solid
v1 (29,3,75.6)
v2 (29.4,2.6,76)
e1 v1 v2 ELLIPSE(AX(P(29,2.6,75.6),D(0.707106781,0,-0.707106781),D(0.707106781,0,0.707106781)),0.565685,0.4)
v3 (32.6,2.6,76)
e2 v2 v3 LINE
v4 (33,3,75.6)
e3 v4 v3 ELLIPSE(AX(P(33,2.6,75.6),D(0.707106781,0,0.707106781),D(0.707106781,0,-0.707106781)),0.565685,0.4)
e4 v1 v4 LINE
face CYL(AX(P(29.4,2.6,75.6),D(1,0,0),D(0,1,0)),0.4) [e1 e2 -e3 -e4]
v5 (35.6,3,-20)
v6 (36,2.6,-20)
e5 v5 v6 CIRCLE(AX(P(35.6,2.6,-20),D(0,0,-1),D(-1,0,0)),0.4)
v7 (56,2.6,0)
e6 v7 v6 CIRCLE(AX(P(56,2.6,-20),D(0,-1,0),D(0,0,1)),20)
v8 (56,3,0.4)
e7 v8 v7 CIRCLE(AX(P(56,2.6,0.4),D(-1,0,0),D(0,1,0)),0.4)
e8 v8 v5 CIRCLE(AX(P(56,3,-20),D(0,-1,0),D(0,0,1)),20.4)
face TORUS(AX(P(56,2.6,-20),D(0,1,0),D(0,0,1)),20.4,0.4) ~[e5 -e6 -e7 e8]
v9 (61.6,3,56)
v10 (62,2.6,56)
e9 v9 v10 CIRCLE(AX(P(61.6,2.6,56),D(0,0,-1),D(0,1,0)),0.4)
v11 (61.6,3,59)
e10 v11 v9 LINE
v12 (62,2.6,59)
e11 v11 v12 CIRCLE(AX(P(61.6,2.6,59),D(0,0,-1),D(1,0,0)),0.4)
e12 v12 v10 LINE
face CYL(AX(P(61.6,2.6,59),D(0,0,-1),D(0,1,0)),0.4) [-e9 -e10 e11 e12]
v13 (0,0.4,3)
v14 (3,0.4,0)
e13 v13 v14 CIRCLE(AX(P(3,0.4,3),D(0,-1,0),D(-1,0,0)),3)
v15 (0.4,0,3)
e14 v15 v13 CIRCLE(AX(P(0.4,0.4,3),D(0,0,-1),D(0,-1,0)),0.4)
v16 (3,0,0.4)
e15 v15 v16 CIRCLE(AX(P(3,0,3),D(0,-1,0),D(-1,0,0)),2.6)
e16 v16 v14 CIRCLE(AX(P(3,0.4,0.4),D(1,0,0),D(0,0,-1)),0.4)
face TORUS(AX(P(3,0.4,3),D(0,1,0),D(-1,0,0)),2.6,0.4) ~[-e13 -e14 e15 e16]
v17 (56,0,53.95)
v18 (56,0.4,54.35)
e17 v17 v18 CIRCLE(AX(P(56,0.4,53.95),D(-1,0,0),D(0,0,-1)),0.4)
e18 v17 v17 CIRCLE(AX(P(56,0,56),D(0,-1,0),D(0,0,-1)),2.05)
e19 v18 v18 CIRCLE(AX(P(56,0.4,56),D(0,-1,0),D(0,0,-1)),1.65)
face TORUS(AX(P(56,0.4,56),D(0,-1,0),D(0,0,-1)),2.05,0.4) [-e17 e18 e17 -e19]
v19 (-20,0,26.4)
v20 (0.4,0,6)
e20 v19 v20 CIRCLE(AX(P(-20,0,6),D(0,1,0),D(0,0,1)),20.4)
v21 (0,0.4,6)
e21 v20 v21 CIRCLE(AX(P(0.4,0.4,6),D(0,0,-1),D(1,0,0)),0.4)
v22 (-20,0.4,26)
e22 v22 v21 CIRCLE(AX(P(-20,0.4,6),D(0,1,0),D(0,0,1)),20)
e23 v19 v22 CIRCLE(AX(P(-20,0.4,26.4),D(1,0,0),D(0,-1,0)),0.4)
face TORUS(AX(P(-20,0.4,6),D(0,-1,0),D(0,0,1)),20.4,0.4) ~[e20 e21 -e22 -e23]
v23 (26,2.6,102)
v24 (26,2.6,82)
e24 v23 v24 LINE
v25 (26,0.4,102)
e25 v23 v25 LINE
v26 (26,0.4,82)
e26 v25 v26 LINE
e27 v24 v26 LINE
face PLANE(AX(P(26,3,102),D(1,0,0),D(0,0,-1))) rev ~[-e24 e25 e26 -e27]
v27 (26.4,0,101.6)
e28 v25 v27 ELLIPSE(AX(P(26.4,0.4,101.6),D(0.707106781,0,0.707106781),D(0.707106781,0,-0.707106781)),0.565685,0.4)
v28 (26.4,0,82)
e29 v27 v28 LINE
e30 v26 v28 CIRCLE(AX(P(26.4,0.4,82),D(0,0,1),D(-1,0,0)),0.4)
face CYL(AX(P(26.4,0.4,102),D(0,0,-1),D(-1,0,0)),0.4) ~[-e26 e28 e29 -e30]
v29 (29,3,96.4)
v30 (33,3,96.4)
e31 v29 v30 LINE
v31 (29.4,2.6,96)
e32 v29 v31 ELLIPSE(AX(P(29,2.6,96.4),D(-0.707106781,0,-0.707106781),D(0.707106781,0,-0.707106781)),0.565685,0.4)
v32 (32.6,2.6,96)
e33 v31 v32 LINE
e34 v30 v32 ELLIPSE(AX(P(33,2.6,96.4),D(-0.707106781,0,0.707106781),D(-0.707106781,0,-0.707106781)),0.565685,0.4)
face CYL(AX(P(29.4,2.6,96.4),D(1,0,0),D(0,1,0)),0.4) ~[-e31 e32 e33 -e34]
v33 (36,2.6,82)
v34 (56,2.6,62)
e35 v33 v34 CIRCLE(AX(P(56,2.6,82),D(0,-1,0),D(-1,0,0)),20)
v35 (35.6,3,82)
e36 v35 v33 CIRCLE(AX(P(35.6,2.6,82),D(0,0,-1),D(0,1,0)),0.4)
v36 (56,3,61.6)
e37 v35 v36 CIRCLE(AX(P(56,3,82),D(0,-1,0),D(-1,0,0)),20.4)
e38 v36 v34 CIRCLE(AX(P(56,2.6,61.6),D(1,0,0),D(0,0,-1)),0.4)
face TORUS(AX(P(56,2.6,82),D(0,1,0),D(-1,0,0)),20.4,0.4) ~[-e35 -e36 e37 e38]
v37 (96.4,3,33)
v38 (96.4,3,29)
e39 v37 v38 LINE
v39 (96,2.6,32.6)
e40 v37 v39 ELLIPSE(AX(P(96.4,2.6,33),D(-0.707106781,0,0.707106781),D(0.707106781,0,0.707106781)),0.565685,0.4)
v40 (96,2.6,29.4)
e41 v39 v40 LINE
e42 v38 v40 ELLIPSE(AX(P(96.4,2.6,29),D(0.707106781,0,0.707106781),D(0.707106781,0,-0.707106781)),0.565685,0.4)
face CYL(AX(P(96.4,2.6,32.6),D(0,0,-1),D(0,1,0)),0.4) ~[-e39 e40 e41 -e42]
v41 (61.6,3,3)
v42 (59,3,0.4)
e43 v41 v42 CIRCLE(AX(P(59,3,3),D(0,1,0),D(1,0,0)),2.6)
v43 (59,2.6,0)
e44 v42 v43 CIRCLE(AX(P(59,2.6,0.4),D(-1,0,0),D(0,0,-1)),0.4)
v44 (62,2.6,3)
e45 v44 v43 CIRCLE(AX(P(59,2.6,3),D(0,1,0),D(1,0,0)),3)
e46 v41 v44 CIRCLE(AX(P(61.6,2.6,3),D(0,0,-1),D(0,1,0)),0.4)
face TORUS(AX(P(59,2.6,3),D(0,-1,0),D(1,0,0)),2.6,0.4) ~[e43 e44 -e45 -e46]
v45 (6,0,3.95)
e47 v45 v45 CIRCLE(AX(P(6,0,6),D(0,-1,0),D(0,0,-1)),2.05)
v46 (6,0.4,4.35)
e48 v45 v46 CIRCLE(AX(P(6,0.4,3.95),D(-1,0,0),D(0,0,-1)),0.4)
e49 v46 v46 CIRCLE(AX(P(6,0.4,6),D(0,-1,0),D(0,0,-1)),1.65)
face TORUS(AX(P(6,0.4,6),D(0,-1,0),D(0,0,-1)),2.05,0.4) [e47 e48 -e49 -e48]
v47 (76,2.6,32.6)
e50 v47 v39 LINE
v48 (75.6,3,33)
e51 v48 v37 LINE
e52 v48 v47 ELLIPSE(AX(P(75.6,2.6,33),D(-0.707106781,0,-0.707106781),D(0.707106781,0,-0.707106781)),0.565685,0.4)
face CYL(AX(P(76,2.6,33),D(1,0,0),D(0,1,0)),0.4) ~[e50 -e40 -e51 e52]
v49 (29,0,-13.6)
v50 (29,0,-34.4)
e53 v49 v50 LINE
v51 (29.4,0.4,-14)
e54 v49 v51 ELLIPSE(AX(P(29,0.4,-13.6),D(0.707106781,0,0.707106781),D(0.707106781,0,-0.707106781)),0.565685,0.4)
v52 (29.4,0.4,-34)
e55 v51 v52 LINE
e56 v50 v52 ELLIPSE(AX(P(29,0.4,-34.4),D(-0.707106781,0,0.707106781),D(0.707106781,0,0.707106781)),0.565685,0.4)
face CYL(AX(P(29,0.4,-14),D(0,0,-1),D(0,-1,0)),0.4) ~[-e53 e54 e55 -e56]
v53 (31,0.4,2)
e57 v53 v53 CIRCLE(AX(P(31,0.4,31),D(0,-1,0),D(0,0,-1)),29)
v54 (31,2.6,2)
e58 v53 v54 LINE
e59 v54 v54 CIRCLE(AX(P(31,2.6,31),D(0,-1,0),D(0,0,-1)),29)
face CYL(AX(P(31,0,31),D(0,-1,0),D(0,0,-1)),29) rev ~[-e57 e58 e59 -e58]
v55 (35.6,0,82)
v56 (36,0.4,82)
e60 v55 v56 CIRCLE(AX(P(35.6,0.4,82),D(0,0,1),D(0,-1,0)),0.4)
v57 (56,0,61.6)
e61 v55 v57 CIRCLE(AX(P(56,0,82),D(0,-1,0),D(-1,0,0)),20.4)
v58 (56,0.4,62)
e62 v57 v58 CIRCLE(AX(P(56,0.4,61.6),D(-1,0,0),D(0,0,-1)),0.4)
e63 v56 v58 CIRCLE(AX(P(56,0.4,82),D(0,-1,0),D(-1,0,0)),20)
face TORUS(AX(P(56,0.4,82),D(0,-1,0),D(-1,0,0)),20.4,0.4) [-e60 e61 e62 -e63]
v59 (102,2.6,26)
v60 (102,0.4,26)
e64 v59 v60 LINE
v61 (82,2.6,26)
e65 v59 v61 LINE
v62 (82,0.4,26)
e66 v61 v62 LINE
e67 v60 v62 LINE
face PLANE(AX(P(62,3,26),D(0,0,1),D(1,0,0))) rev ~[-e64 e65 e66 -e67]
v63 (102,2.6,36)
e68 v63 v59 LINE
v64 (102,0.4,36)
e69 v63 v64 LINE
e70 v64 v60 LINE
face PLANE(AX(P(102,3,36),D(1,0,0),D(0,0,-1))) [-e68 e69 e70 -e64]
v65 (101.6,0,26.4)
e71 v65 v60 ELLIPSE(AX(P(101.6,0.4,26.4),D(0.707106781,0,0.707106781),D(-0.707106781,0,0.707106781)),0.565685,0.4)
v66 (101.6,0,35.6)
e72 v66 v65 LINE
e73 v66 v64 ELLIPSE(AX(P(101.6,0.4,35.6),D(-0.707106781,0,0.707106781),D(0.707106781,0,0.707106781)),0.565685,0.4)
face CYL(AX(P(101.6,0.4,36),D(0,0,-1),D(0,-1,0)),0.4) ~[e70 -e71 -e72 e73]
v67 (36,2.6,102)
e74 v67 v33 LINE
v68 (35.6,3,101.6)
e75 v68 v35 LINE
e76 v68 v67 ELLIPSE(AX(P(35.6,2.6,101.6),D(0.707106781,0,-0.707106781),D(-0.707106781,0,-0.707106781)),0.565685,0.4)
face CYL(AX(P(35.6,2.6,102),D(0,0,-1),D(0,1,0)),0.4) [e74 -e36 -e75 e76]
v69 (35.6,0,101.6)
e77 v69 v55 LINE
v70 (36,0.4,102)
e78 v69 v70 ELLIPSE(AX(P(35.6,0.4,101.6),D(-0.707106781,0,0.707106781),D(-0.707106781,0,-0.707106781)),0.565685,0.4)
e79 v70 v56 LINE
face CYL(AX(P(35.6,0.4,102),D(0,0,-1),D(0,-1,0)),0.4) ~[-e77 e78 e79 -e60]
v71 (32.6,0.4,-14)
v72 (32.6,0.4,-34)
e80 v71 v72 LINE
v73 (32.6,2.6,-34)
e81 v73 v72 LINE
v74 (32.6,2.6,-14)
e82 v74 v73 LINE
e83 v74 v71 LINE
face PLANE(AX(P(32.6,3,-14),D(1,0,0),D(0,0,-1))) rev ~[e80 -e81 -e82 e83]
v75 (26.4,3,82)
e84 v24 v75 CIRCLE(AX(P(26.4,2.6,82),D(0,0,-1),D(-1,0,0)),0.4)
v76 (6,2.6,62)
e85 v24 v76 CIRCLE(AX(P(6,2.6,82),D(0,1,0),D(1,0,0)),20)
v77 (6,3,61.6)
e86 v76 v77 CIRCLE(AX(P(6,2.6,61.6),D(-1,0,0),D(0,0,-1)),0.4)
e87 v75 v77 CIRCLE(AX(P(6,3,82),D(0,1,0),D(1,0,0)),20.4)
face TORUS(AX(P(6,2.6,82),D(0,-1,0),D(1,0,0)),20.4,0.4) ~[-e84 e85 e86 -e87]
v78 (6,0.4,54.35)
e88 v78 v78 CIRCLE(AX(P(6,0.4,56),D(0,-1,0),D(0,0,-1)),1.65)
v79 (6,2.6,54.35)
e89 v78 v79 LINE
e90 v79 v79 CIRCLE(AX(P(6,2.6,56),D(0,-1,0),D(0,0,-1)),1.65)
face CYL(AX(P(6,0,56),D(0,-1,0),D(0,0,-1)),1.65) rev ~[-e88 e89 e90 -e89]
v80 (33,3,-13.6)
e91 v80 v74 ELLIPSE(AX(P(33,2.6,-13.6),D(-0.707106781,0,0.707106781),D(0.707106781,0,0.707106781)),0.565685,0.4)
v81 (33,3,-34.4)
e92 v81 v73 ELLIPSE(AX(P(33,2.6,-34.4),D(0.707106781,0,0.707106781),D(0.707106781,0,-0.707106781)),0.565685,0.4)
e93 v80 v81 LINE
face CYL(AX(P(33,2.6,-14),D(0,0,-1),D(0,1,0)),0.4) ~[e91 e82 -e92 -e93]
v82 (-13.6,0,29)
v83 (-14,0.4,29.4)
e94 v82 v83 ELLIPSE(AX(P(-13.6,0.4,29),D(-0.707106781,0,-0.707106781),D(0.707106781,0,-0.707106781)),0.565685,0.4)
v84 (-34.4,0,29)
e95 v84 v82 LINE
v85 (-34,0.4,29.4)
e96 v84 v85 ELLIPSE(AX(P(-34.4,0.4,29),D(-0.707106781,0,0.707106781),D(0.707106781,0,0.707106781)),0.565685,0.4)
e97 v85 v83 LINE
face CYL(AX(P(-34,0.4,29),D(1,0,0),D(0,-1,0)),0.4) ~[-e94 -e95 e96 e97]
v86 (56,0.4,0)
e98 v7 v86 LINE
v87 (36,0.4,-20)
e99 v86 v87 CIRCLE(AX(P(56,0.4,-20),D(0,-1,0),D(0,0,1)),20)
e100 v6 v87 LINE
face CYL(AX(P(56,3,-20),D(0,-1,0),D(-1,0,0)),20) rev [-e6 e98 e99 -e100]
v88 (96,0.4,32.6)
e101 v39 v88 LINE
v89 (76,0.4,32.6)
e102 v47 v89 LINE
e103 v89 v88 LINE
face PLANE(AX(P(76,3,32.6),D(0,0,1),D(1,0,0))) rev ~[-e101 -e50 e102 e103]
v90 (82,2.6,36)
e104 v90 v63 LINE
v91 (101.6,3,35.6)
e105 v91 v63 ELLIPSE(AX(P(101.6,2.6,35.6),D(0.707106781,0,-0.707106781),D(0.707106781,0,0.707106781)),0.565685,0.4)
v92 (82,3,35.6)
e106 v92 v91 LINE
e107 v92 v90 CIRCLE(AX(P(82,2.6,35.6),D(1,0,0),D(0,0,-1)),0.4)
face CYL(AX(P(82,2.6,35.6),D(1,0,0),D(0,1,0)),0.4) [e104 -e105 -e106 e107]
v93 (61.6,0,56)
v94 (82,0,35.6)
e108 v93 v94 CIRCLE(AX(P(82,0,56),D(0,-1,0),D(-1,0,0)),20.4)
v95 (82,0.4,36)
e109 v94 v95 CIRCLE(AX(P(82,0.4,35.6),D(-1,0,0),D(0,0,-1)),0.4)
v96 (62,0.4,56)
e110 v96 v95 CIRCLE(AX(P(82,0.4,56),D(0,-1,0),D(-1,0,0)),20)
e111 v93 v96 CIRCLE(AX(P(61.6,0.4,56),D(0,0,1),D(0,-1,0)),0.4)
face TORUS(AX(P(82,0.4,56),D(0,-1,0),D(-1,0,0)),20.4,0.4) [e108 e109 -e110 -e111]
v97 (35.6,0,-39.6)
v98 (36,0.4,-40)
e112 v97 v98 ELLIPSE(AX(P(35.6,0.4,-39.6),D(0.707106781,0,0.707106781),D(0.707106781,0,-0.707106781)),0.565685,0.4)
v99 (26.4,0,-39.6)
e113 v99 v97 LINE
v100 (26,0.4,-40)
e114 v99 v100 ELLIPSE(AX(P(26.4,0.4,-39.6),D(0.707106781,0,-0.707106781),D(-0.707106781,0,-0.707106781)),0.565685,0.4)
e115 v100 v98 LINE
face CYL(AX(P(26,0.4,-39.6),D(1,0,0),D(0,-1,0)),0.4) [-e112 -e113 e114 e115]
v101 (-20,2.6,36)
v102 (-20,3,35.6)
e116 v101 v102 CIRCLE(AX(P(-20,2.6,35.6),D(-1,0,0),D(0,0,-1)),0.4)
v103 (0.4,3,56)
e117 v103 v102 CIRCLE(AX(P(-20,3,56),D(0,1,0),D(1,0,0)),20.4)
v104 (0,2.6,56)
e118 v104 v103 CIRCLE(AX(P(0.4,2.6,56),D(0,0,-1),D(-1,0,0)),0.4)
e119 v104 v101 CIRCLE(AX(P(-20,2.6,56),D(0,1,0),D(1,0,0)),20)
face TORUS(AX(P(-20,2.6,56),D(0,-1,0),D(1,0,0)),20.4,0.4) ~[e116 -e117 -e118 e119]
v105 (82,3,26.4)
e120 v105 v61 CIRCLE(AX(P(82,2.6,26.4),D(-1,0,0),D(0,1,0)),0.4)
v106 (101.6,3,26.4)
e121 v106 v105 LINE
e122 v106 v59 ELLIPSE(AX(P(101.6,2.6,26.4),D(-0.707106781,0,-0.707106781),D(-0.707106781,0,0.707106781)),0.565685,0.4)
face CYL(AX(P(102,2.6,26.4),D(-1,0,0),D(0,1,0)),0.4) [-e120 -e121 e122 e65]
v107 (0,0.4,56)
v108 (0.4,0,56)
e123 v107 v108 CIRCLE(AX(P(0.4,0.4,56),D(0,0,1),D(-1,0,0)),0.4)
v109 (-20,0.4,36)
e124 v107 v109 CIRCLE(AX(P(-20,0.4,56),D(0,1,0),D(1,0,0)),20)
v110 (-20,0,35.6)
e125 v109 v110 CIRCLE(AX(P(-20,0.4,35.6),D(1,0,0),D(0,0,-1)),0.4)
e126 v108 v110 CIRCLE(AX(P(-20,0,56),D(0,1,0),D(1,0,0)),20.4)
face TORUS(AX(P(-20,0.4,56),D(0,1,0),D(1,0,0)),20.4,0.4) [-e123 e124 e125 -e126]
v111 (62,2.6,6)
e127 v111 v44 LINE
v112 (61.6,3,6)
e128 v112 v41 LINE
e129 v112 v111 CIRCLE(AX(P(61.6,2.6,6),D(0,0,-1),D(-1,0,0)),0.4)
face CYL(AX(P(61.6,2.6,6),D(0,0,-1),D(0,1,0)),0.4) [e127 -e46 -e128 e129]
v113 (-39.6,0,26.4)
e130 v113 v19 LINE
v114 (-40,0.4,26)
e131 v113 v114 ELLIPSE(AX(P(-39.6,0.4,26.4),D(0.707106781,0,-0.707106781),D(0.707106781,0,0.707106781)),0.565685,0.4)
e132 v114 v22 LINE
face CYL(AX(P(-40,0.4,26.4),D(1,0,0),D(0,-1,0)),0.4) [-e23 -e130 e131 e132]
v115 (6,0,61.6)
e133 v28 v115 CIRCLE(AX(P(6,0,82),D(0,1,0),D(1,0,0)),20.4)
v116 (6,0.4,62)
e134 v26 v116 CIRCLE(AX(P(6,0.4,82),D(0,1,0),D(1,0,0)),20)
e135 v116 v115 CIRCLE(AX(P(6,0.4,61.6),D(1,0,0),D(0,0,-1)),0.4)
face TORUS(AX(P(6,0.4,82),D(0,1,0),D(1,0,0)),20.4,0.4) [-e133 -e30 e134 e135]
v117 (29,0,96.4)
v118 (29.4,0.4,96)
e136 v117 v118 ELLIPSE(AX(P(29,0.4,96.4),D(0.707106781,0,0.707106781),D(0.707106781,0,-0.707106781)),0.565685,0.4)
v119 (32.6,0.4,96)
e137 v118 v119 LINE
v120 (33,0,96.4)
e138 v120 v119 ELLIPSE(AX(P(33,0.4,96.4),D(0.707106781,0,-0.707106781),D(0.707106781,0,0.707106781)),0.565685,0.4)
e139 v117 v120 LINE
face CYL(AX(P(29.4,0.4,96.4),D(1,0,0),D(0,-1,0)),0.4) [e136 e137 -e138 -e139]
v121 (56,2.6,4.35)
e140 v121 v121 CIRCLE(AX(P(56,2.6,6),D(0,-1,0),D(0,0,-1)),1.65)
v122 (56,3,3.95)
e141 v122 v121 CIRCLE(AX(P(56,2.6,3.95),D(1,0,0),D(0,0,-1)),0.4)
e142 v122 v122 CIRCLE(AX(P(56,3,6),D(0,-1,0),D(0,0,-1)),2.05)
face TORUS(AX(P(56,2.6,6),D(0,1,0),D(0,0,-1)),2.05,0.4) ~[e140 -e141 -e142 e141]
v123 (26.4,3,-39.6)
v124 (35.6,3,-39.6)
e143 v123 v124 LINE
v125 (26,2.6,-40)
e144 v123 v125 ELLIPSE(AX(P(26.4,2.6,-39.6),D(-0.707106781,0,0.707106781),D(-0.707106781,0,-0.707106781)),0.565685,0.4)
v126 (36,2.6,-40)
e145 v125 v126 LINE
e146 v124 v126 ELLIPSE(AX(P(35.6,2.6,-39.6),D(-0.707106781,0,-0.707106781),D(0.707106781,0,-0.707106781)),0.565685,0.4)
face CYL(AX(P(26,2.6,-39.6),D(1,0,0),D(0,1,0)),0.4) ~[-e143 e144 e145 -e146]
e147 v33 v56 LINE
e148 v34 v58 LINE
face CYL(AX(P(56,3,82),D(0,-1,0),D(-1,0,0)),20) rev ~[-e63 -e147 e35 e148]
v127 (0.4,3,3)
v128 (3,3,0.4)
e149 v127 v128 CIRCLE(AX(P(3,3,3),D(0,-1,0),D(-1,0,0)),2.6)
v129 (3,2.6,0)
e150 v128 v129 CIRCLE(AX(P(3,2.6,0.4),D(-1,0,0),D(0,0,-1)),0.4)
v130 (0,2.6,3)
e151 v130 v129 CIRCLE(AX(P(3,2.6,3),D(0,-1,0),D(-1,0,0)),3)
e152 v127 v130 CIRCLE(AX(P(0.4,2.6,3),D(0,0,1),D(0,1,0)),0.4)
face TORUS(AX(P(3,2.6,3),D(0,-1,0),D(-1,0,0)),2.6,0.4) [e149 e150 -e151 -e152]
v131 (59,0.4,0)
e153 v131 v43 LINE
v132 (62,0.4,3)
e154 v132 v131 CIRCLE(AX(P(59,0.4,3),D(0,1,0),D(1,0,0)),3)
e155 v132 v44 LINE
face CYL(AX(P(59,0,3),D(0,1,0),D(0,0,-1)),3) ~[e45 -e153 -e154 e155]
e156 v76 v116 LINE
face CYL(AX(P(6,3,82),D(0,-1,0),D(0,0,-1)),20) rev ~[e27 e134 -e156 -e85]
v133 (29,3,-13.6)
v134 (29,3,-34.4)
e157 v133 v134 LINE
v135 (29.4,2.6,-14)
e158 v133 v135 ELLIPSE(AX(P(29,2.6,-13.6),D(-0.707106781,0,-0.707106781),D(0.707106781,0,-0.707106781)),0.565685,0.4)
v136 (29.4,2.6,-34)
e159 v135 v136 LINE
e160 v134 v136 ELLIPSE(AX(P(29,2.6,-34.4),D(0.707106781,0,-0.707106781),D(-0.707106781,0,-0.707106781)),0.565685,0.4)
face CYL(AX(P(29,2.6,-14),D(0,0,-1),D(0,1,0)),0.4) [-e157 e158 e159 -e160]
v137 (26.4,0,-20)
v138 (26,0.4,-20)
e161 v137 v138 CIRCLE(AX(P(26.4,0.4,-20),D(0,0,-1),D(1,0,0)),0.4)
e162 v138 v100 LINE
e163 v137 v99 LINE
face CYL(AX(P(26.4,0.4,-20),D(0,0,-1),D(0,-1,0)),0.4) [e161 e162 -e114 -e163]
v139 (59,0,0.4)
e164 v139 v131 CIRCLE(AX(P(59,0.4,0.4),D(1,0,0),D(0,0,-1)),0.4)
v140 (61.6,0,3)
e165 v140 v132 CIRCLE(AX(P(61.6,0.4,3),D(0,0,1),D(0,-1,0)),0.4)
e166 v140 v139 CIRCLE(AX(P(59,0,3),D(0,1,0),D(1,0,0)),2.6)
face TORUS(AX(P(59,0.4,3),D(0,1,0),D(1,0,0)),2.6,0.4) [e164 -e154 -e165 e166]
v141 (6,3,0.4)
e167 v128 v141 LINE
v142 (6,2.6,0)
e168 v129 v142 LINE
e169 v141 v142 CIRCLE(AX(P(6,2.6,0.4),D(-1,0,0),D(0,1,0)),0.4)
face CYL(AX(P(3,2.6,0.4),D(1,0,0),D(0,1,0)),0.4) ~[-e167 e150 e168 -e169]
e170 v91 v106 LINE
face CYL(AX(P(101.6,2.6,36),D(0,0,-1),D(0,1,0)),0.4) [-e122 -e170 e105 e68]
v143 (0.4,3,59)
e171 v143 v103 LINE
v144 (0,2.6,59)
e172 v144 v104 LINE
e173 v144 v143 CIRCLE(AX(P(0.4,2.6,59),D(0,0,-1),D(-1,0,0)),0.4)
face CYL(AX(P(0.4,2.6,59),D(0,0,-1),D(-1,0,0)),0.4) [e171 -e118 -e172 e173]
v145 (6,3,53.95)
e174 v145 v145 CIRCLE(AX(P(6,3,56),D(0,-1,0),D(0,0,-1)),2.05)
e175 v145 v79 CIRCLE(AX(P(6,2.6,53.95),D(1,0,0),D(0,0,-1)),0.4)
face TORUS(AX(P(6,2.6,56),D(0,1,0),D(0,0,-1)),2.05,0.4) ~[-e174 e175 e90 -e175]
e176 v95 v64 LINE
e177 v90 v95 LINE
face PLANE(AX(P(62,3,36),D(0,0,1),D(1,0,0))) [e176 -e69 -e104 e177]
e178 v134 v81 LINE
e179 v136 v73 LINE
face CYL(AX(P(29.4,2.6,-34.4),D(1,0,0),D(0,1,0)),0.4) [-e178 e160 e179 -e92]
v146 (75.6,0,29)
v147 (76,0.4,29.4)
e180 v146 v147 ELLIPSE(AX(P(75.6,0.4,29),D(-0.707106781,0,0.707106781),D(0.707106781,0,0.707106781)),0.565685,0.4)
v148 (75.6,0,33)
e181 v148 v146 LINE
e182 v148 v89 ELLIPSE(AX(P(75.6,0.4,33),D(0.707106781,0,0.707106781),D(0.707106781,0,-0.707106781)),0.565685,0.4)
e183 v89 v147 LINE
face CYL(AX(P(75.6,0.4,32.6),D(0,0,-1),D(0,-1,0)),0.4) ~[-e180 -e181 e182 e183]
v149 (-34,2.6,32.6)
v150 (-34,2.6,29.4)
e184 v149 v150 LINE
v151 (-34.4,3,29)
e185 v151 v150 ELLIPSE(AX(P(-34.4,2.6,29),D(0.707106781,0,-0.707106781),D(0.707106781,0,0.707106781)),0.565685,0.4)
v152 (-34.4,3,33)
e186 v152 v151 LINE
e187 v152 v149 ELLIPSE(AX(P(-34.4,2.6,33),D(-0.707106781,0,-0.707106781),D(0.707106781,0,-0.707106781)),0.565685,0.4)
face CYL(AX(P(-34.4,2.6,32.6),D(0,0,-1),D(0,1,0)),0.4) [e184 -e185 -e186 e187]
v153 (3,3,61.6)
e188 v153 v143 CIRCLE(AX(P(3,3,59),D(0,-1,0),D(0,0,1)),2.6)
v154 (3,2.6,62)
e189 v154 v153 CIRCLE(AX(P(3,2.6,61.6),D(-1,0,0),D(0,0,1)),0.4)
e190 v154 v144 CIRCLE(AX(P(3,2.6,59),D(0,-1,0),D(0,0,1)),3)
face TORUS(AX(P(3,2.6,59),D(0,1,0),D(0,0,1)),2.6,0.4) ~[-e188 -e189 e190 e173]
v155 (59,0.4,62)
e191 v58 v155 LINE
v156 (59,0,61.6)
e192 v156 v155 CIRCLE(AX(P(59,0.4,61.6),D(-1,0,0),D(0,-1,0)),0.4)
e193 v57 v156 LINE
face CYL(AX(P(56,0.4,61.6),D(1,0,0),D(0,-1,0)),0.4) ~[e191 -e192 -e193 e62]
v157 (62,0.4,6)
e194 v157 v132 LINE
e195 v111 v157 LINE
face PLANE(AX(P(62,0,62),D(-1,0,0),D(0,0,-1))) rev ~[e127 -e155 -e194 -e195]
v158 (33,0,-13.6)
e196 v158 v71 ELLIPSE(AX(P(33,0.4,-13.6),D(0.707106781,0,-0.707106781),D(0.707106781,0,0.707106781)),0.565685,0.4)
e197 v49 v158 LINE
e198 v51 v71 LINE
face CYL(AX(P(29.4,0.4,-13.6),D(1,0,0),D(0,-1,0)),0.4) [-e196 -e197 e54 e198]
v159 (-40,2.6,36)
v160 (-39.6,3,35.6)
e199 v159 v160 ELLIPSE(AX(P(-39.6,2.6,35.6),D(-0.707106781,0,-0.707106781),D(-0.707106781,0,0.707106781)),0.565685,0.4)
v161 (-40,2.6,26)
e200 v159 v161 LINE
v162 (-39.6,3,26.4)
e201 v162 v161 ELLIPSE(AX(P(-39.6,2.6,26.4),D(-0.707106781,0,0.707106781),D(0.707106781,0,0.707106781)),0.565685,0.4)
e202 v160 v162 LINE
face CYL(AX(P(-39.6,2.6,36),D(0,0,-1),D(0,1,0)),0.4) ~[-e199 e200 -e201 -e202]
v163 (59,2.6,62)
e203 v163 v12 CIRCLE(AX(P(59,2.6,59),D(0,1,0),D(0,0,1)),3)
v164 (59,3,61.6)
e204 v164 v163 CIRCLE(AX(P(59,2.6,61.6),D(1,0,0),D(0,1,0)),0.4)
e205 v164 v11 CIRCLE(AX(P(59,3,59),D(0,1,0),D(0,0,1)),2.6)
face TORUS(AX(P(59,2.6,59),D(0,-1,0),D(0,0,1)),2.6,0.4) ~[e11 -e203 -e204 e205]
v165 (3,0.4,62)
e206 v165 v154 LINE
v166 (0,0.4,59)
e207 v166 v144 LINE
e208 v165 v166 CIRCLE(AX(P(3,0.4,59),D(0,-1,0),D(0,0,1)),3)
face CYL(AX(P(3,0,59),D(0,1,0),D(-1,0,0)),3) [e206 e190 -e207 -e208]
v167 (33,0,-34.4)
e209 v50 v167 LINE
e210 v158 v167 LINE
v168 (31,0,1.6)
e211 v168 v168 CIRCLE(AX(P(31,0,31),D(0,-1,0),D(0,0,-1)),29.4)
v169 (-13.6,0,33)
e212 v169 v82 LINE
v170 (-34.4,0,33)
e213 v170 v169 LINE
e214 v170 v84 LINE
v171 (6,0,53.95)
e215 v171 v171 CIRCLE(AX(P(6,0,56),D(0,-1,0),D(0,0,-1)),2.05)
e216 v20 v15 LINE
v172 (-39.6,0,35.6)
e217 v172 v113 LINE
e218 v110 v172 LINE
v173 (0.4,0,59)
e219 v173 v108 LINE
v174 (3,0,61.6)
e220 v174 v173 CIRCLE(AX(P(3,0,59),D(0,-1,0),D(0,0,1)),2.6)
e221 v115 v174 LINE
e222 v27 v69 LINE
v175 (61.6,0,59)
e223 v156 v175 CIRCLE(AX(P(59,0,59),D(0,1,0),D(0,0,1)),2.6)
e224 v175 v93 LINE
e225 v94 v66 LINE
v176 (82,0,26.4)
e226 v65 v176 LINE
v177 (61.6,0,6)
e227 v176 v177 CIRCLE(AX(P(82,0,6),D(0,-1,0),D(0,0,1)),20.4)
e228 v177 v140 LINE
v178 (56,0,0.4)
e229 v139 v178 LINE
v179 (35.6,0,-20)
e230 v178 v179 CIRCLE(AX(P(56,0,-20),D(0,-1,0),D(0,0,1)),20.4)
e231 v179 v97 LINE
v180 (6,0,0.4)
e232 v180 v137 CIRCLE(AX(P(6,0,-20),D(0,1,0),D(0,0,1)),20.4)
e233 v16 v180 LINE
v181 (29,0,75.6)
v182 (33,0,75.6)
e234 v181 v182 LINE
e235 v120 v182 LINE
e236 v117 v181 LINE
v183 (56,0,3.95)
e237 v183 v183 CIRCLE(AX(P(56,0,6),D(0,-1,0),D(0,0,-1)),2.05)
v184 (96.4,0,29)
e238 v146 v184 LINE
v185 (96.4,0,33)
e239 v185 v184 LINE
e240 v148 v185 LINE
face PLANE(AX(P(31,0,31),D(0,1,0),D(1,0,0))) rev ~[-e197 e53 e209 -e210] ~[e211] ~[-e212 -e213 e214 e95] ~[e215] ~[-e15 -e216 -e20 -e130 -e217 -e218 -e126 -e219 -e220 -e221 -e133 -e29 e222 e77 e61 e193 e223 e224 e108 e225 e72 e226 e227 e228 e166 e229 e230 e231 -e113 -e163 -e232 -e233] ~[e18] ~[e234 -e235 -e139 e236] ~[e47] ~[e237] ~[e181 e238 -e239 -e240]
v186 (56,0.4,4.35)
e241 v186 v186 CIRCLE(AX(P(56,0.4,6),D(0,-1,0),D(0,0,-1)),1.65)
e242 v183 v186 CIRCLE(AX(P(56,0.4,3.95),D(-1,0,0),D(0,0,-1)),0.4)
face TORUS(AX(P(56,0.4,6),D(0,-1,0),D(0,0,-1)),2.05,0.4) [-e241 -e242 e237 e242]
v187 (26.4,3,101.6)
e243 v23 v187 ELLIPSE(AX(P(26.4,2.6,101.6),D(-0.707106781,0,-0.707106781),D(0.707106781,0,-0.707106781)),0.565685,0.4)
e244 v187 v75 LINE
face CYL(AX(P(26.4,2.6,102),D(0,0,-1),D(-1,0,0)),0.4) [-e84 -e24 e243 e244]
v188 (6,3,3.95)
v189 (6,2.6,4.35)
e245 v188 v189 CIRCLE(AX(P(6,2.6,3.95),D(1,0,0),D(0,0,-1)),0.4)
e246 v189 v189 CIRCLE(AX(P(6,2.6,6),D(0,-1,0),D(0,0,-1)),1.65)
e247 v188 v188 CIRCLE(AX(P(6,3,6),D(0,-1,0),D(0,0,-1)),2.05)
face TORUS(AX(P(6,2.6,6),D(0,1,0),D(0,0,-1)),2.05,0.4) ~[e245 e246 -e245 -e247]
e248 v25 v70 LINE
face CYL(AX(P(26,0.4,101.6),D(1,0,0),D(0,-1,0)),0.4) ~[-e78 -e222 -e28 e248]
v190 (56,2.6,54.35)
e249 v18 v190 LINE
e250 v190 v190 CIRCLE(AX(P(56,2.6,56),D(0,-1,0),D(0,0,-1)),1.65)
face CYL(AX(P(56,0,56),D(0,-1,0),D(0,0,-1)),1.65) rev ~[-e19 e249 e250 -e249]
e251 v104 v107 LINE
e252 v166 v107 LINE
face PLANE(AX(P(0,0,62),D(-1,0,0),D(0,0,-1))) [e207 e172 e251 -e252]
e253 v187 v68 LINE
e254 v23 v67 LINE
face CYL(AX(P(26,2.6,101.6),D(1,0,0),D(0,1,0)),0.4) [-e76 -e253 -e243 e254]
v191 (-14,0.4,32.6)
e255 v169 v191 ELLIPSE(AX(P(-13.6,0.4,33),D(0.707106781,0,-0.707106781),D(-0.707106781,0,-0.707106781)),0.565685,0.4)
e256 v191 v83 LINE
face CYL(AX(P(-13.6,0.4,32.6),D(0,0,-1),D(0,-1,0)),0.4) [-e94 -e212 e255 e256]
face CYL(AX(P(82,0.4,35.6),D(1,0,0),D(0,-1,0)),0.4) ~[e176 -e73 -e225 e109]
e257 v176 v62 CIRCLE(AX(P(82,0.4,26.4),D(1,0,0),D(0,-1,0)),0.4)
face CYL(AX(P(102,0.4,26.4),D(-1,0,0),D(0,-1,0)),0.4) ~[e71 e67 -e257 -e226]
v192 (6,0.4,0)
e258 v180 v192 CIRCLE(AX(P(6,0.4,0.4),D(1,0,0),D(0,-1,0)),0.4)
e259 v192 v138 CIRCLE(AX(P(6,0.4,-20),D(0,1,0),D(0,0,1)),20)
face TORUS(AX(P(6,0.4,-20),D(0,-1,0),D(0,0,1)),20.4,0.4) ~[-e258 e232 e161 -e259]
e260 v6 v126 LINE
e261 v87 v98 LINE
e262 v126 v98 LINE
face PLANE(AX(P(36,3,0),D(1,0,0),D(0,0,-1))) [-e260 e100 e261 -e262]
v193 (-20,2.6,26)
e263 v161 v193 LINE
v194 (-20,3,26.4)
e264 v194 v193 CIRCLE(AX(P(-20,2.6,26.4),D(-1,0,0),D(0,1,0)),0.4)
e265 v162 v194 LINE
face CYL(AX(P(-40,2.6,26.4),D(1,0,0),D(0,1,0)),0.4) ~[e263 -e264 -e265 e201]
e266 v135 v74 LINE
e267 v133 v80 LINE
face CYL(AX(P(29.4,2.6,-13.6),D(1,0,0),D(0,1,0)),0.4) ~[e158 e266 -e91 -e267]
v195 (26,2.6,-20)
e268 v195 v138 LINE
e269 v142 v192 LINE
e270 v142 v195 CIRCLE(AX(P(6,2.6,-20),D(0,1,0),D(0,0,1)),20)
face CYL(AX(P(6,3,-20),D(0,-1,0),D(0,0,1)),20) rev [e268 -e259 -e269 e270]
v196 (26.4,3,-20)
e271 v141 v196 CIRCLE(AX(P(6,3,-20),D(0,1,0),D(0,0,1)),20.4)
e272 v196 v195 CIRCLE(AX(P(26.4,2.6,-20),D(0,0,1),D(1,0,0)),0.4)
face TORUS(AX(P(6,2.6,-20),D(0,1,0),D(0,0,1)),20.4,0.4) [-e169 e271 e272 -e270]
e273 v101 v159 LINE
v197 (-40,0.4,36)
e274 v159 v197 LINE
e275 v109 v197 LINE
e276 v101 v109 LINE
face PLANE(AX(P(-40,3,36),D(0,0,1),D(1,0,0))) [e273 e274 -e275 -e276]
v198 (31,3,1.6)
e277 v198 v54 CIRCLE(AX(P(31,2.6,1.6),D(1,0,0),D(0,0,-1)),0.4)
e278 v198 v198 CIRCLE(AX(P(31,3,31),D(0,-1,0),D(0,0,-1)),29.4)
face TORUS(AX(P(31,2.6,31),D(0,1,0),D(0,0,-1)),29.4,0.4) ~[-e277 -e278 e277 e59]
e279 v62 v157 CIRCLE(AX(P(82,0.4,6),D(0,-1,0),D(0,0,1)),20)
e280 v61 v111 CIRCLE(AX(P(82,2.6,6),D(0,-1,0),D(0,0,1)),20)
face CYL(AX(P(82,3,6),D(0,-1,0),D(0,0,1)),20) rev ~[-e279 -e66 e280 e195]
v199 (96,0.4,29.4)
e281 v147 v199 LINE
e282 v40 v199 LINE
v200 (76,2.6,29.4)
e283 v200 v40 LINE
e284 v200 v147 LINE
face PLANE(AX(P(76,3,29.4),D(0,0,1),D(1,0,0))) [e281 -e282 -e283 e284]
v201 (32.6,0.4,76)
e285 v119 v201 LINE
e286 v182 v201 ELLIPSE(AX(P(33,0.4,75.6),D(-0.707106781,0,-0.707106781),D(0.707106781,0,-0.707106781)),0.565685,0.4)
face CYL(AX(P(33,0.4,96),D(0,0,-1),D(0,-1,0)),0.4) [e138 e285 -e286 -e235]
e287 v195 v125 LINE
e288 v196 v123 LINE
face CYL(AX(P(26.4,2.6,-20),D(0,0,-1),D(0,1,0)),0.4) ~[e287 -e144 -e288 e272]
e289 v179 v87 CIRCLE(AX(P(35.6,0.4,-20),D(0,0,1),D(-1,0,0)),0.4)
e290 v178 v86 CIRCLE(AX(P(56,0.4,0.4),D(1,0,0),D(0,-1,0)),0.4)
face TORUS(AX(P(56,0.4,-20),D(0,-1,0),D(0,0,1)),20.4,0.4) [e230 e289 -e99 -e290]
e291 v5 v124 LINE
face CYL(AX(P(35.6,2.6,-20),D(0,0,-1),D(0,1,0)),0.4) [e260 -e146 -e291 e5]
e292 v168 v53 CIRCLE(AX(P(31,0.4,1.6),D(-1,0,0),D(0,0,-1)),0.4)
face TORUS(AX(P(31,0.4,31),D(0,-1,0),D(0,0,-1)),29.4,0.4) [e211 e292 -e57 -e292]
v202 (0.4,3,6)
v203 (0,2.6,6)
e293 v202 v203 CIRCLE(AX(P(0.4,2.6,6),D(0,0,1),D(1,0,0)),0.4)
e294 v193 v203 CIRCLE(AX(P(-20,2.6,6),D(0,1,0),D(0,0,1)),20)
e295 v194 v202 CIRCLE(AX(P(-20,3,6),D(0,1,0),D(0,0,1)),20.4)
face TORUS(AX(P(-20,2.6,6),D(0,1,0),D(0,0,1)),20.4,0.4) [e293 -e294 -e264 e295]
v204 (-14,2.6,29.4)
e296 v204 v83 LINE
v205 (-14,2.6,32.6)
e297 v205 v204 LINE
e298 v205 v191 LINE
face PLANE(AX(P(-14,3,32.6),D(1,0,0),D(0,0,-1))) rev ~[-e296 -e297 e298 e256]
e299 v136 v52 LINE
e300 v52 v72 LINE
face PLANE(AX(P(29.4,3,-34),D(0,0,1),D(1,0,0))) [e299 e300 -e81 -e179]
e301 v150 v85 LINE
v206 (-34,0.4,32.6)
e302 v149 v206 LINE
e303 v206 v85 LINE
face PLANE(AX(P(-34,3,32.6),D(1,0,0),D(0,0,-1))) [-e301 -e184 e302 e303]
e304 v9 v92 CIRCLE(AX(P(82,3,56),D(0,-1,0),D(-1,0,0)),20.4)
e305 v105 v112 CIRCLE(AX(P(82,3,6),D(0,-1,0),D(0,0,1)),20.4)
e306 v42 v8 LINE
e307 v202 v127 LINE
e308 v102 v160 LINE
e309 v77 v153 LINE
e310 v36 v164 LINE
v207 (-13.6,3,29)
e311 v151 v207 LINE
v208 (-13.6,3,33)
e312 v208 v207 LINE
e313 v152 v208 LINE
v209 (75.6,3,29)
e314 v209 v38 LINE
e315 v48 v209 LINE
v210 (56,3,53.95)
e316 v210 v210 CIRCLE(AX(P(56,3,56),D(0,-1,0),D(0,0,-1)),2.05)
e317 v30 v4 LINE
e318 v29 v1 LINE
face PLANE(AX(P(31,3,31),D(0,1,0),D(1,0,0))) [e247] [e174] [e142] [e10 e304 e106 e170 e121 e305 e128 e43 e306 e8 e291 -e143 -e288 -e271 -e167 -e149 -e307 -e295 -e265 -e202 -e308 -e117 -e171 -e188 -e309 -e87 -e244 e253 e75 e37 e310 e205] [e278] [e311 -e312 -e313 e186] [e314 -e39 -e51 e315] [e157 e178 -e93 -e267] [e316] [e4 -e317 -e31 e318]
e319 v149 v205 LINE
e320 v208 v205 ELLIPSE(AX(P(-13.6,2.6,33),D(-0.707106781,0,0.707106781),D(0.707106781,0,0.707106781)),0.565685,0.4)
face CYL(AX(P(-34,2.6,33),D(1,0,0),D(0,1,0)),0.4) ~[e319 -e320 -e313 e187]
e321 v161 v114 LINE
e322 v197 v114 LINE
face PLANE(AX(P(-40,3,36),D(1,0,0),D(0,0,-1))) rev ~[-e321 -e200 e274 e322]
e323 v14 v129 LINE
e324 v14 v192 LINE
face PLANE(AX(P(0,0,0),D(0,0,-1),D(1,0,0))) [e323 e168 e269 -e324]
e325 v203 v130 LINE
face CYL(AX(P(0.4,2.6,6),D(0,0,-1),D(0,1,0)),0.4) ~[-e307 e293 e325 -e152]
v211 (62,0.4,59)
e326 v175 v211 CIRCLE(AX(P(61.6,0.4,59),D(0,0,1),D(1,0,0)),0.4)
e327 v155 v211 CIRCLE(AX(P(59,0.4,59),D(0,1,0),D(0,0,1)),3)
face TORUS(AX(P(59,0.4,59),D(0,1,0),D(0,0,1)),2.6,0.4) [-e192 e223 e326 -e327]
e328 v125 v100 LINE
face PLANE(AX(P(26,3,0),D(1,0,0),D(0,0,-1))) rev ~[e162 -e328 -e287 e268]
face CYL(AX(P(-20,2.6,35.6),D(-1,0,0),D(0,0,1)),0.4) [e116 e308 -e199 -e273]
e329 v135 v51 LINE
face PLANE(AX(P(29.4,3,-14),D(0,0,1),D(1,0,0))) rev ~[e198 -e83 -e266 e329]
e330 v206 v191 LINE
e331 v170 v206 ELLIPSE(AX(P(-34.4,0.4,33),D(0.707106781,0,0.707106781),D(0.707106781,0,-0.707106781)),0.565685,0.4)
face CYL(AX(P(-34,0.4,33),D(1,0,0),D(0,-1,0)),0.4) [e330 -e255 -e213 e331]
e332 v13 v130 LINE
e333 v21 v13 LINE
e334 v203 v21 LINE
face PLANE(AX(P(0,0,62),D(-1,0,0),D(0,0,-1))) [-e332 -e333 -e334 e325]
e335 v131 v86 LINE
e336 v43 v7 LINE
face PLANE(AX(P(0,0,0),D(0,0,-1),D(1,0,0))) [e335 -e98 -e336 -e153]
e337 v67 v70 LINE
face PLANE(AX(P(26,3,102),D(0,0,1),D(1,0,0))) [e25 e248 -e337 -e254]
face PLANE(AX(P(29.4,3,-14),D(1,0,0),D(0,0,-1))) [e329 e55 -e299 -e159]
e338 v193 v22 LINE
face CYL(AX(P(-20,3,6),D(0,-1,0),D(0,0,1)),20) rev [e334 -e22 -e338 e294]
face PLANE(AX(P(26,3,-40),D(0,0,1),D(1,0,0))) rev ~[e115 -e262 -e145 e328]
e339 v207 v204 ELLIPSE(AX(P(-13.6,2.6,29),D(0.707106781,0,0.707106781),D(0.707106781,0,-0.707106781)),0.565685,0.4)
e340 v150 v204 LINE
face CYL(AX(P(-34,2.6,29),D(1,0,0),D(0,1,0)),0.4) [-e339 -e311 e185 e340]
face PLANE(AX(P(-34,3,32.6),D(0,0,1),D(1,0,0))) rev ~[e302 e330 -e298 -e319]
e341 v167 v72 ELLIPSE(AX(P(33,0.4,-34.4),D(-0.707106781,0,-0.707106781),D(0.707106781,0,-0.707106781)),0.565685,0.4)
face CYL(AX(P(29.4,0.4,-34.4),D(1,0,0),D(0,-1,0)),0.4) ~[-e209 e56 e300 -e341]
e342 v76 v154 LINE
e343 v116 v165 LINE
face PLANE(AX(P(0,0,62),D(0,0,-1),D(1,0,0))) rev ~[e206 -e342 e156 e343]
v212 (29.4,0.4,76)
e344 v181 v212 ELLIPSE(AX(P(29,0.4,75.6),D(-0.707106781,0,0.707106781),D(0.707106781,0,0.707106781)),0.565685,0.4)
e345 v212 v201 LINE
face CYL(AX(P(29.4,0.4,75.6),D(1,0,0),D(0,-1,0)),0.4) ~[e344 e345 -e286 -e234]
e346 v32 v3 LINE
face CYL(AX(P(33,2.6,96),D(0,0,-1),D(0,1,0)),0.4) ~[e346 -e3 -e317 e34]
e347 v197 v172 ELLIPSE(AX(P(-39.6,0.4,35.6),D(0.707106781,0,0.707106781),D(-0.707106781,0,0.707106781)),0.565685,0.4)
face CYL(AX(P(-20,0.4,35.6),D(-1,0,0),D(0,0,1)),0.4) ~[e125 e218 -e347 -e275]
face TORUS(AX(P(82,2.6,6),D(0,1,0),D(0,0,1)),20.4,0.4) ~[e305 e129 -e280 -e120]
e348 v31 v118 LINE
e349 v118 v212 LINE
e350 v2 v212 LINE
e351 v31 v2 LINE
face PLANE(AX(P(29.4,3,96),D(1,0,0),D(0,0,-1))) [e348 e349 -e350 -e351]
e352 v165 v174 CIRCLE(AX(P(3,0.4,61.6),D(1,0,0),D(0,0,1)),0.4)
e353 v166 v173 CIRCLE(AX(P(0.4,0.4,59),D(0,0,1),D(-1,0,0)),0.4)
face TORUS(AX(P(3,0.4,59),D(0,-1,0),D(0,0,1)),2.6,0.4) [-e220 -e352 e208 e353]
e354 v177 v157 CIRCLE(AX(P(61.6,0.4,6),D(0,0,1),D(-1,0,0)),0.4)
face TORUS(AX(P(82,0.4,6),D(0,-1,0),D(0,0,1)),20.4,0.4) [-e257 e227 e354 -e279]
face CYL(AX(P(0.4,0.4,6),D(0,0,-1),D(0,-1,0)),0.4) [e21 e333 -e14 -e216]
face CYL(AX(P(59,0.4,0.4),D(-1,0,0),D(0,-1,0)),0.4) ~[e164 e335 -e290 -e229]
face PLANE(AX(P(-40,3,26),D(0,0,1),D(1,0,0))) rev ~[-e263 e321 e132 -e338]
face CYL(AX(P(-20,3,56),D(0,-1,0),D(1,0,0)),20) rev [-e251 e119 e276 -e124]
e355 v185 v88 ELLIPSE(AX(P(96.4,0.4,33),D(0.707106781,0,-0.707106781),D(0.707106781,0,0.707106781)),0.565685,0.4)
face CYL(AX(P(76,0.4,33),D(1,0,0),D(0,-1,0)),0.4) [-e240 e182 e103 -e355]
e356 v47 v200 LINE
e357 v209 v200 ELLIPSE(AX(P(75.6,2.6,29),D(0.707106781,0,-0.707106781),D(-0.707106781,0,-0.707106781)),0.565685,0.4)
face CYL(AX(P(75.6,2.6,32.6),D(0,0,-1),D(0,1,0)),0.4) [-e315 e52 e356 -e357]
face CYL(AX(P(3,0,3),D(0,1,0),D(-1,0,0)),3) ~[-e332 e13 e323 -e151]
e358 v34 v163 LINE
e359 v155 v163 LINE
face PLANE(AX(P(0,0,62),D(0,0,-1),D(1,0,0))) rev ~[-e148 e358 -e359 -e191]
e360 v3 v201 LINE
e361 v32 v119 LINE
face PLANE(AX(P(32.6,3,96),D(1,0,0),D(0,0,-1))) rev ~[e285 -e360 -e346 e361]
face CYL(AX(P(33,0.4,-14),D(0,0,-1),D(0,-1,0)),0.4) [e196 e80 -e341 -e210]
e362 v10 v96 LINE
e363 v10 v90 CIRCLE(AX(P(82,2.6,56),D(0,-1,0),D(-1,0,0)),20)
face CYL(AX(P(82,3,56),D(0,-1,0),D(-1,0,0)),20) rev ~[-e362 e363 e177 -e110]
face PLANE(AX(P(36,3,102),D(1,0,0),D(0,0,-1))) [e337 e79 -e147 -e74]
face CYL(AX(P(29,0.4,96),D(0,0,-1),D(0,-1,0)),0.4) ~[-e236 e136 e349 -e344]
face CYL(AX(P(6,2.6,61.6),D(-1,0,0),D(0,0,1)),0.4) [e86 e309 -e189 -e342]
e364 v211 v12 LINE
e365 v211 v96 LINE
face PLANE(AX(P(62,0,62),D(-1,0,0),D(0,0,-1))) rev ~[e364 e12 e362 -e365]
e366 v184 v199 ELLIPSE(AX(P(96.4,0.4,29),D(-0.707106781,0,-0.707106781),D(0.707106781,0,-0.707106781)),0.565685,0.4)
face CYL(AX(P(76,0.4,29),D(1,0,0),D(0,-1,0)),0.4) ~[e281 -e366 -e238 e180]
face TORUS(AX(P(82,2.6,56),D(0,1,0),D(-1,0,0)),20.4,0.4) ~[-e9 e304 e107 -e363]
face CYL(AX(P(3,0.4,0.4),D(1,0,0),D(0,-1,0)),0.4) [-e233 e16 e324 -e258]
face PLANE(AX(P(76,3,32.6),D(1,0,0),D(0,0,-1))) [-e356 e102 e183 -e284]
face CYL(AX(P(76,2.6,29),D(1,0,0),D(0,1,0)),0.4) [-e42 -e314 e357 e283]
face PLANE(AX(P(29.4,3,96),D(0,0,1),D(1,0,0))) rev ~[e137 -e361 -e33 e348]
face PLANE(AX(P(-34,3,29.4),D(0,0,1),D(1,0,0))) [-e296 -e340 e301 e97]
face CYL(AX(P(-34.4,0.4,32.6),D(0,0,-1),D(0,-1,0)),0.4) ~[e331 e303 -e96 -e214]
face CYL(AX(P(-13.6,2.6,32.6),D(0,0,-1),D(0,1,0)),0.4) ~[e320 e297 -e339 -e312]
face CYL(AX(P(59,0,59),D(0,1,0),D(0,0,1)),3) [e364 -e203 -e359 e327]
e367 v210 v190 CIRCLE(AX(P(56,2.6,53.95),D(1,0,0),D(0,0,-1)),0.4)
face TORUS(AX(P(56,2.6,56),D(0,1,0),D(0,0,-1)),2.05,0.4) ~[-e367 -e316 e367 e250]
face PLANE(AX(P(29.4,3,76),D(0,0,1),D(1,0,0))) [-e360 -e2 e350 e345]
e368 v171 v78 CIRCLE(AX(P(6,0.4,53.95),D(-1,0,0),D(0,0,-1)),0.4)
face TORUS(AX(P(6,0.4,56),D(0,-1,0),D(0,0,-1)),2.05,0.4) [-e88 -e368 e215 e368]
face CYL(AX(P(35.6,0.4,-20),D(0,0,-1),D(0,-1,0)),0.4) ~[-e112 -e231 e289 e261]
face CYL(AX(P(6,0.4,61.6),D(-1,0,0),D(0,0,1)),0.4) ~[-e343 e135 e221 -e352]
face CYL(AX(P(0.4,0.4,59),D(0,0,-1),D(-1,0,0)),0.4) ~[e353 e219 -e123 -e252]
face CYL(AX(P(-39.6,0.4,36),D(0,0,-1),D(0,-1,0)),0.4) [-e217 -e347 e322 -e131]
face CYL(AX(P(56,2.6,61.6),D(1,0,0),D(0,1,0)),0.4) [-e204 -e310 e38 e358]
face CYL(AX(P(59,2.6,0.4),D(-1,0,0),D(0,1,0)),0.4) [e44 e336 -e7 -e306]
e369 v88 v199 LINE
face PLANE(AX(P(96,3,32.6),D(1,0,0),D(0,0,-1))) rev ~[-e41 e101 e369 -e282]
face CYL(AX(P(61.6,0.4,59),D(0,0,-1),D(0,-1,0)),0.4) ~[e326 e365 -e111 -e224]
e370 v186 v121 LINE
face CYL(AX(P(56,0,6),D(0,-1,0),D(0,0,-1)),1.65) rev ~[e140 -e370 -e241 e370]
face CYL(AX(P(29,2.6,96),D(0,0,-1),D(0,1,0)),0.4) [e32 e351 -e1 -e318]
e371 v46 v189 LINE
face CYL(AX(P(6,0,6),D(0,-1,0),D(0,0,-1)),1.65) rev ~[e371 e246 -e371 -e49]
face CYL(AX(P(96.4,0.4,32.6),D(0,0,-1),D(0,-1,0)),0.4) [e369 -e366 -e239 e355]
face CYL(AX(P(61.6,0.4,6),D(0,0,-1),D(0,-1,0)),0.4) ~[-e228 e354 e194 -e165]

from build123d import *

# Parameters (mm, degrees)
SKETCH1_W           = 62
SKETCH1_H           = 62
BOSS_EXTRUDE1_DEPTH = 3
SKETCH2_R           = 1.65
SKETCH2_R_2         = 29
CUT_EXTRUDE1_DEPTH  = 10
SKETCH3_W           = 10
SKETCH3_H           = 40
SKETCH3_W_2         = 40
SKETCH3_H_2         = 10
BOSS_EXTRUDE2_DEPTH = 3
SKETCH4_W           = 20
SKETCH4_H           = 3.2
SKETCH4_W_2         = 3.2
SKETCH4_H_2         = 20
CUT_EXTRUDE2_DEPTH  = 10
FILLET1_R           = 20
FILLET4_R           = 3
FILLET5_R           = 0.4
FILLET7_R           = 0.4


with BuildPart() as part:
    # Sketch1 → Boss-Extrude1 (new body)
    with BuildSketch(Plane(origin=(0, 0, 0), x_dir=(1, 0, 0), z_dir=(0, 1, 0))):
        with Locations((31, -31)):
            Rectangle(SKETCH1_W, SKETCH1_H)
    extrude(amount=BOSS_EXTRUDE1_DEPTH)

    # Sketch2 → Cut-Extrude1 (cut)
    with BuildSketch(Plane(origin=(0, 0, 0), x_dir=(-1, 0, 0), z_dir=(0, -1, 0))):
        with Locations(Location((-56, -56, 0), (0, 0, 90))):
            Circle(SKETCH2_R)
        with Locations(Location((-6, -56, 0), (0, 0, 90))):
            Circle(SKETCH2_R)
        with Locations(Location((-6, -6, 0), (0, 0, 90))):
            Circle(SKETCH2_R)
        with Locations(Location((-56, -6, 0), (0, 0, 90))):
            Circle(SKETCH2_R)
        with Locations(Location((-31, -31, 0), (0, 0, 90))):
            Circle(SKETCH2_R_2)
    extrude(amount=-CUT_EXTRUDE1_DEPTH, mode=Mode.SUBTRACT)

    # Sketch3 → Boss-Extrude2 (add)
    with BuildSketch(Plane(origin=(0, 3, 0), x_dir=(1, 0, 0), z_dir=(0, 1, 0))):
        with Locations((31, 20)):
            Rectangle(SKETCH3_W, SKETCH3_H)
        with Locations((-20, -31)):
            Rectangle(SKETCH3_W_2, SKETCH3_H_2)
        with Locations((82, -31)):
            Rectangle(SKETCH3_W_2, SKETCH3_H_2)
        with Locations((31, -82)):
            Rectangle(SKETCH3_W, SKETCH3_H)
    extrude(amount=-BOSS_EXTRUDE2_DEPTH)

    # Sketch4 → Cut-Extrude2 (cut)
    with BuildSketch(Plane(origin=(0, 3, 0), x_dir=(1, 0, 0), z_dir=(0, 1, 0))):
        with Locations((86, -31)):
            Rectangle(SKETCH4_W, SKETCH4_H)
        with Locations((31, 24)):
            Rectangle(SKETCH4_W_2, SKETCH4_H_2)
        with Locations((-24, -31)):
            Rectangle(SKETCH4_W, SKETCH4_H)
        with Locations((31, -86)):
            Rectangle(SKETCH4_W_2, SKETCH4_H_2)
    extrude(amount=-CUT_EXTRUDE2_DEPTH, mode=Mode.SUBTRACT)

    # Fillet1
    fillet1_edges = [part.edges().sort_by_distance(p)[0] for p in [
        (26, 1.5, 0),
        (36, 1.5, 0),
        (0, 1.5, 26),
        (0, 1.5, 36),
        (62, 1.5, 36),
        (62, 1.5, 26),
        (26, 1.5, 62),
        (36, 1.5, 62),
    ]]
    fillet(fillet1_edges, radius=FILLET1_R)

    # Fillet4
    fillet4_edges = [part.edges().sort_by_distance(p)[0] for p in [
        (0, 1.5, 0),
        (62, 1.5, 0),
        (62, 1.5, 62),
        (0, 1.5, 62),
    ]]
    fillet(fillet4_edges, radius=FILLET4_R)

    # Fillet5
    fillet5_edges = [part.edges().sort_by_distance(p)[0] for p in [
        (76, 3, 31),
        (86, 3, 32.6),
        (96, 3, 31),
        (86, 3, 29.4),
        (29.4, 3, -24),
        (31, 3, -14),
        (32.6, 3, -24),
        (31, 3, -34),
        (-24, 3, 32.6),
        (-14, 3, 31),
        (-24, 3, 29.4),
        (-34, 3, 31),
        (32.6, 3, 86),
        (31, 3, 76),
        (29.4, 3, 86),
        (31, 3, 96),
        (36, 3, -30),
        (4.5, 3, 0),
        (-30, 3, 26),
        (0, 3, 57.5),
        (26, 3, 92),
        (57.5, 3, 62),
        (62, 3, 4.5),
        (92, 3, 36),
        (41.857864376, 3, -5.857864376),
        (20.142135624, 3, -5.857864376),
        (-5.857864376, 3, 20.142135624),
        (-5.857864376, 3, 41.857864376),
        (20.142135624, 3, 67.857864376),
        (41.857864376, 3, 67.857864376),
        (6, 3, 57.65),
        (67.857864376, 3, 20.142135624),
        (67.857864376, 3, 41.857864376),
        (6, 3, 7.65),
        (57.5, 3, 0),
        (0, 3, 4.5),
        (4.5, 3, 62),
        (62, 3, 57.5),
        (0.878679656, 3, 0.878679656),
        (0.878679656, 3, 61.121320344),
        (61.121320344, 3, 61.121320344),
        (61.121320344, 3, 0.878679656),
        (31, 3, 60),
        (56, 3, 7.65),
        (56, 3, 57.65),
        (26, 3, -30),
        (31, 3, -40),
        (-40, 3, 31),
        (-30, 3, 36),
        (102, 3, 31),
        (92, 3, 26),
        (31, 3, 102),
        (36, 3, 92),
    ]]
    fillet(fillet5_edges, radius=FILLET5_R)

    # Fillet7
    fillet7_edges = [part.edges().sort_by_distance(p)[0] for p in [
        (36, 0, -30),
        (4.5, 0, 0),
        (-30, 0, 26),
        (0, 0, 57.5),
        (26, 0, 92),
        (57.5, 0, 62),
        (62, 0, 4.5),
        (92, 0, 36),
        (41.857864376, 0, -5.857864376),
        (20.142135624, 0, -5.857864376),
        (-5.857864376, 0, 20.142135624),
        (-5.857864376, 0, 41.857864376),
        (20.142135624, 0, 67.857864376),
        (41.857864376, 0, 67.857864376),
        (6, 0, 57.65),
        (67.857864376, 0, 20.142135624),
        (67.857864376, 0, 41.857864376),
        (6, 0, 7.65),
        (57.5, 0, 0),
        (0, 0, 4.5),
        (62, 0, 57.5),
        (4.5, 0, 62),
        (0.878679656, 0, 0.878679656),
        (0.878679656, 0, 61.121320344),
        (61.121320344, 0, 61.121320344),
        (61.121320344, 0, 0.878679656),
        (31, 0, 60),
        (56, 0, 7.65),
        (56, 0, 57.65),
        (26, 0, -30),
        (31, 0, -40),
        (-30, 0, 36),
        (-40, 0, 31),
        (92, 0, 26),
        (102, 0, 31),
        (36, 0, 92),
        (31, 0, 102),
        (31, 0, 76),
        (29.4, 0, 86),
        (31, 0, 96),
        (32.6, 0, 86),
        (-14, 0, 31),
        (-24, 0, 29.4),
        (-34, 0, 31),
        (-24, 0, 32.6),
        (31, 0, -14),
        (32.6, 0, -24),
        (31, 0, -34),
        (29.4, 0, -24),
        (86, 0, 32.6),
        (96, 0, 31),
        (86, 0, 29.4),
        (76, 0, 31),
    ]]
    fillet(fillet7_edges, radius=FILLET7_R)


solid = part.part
